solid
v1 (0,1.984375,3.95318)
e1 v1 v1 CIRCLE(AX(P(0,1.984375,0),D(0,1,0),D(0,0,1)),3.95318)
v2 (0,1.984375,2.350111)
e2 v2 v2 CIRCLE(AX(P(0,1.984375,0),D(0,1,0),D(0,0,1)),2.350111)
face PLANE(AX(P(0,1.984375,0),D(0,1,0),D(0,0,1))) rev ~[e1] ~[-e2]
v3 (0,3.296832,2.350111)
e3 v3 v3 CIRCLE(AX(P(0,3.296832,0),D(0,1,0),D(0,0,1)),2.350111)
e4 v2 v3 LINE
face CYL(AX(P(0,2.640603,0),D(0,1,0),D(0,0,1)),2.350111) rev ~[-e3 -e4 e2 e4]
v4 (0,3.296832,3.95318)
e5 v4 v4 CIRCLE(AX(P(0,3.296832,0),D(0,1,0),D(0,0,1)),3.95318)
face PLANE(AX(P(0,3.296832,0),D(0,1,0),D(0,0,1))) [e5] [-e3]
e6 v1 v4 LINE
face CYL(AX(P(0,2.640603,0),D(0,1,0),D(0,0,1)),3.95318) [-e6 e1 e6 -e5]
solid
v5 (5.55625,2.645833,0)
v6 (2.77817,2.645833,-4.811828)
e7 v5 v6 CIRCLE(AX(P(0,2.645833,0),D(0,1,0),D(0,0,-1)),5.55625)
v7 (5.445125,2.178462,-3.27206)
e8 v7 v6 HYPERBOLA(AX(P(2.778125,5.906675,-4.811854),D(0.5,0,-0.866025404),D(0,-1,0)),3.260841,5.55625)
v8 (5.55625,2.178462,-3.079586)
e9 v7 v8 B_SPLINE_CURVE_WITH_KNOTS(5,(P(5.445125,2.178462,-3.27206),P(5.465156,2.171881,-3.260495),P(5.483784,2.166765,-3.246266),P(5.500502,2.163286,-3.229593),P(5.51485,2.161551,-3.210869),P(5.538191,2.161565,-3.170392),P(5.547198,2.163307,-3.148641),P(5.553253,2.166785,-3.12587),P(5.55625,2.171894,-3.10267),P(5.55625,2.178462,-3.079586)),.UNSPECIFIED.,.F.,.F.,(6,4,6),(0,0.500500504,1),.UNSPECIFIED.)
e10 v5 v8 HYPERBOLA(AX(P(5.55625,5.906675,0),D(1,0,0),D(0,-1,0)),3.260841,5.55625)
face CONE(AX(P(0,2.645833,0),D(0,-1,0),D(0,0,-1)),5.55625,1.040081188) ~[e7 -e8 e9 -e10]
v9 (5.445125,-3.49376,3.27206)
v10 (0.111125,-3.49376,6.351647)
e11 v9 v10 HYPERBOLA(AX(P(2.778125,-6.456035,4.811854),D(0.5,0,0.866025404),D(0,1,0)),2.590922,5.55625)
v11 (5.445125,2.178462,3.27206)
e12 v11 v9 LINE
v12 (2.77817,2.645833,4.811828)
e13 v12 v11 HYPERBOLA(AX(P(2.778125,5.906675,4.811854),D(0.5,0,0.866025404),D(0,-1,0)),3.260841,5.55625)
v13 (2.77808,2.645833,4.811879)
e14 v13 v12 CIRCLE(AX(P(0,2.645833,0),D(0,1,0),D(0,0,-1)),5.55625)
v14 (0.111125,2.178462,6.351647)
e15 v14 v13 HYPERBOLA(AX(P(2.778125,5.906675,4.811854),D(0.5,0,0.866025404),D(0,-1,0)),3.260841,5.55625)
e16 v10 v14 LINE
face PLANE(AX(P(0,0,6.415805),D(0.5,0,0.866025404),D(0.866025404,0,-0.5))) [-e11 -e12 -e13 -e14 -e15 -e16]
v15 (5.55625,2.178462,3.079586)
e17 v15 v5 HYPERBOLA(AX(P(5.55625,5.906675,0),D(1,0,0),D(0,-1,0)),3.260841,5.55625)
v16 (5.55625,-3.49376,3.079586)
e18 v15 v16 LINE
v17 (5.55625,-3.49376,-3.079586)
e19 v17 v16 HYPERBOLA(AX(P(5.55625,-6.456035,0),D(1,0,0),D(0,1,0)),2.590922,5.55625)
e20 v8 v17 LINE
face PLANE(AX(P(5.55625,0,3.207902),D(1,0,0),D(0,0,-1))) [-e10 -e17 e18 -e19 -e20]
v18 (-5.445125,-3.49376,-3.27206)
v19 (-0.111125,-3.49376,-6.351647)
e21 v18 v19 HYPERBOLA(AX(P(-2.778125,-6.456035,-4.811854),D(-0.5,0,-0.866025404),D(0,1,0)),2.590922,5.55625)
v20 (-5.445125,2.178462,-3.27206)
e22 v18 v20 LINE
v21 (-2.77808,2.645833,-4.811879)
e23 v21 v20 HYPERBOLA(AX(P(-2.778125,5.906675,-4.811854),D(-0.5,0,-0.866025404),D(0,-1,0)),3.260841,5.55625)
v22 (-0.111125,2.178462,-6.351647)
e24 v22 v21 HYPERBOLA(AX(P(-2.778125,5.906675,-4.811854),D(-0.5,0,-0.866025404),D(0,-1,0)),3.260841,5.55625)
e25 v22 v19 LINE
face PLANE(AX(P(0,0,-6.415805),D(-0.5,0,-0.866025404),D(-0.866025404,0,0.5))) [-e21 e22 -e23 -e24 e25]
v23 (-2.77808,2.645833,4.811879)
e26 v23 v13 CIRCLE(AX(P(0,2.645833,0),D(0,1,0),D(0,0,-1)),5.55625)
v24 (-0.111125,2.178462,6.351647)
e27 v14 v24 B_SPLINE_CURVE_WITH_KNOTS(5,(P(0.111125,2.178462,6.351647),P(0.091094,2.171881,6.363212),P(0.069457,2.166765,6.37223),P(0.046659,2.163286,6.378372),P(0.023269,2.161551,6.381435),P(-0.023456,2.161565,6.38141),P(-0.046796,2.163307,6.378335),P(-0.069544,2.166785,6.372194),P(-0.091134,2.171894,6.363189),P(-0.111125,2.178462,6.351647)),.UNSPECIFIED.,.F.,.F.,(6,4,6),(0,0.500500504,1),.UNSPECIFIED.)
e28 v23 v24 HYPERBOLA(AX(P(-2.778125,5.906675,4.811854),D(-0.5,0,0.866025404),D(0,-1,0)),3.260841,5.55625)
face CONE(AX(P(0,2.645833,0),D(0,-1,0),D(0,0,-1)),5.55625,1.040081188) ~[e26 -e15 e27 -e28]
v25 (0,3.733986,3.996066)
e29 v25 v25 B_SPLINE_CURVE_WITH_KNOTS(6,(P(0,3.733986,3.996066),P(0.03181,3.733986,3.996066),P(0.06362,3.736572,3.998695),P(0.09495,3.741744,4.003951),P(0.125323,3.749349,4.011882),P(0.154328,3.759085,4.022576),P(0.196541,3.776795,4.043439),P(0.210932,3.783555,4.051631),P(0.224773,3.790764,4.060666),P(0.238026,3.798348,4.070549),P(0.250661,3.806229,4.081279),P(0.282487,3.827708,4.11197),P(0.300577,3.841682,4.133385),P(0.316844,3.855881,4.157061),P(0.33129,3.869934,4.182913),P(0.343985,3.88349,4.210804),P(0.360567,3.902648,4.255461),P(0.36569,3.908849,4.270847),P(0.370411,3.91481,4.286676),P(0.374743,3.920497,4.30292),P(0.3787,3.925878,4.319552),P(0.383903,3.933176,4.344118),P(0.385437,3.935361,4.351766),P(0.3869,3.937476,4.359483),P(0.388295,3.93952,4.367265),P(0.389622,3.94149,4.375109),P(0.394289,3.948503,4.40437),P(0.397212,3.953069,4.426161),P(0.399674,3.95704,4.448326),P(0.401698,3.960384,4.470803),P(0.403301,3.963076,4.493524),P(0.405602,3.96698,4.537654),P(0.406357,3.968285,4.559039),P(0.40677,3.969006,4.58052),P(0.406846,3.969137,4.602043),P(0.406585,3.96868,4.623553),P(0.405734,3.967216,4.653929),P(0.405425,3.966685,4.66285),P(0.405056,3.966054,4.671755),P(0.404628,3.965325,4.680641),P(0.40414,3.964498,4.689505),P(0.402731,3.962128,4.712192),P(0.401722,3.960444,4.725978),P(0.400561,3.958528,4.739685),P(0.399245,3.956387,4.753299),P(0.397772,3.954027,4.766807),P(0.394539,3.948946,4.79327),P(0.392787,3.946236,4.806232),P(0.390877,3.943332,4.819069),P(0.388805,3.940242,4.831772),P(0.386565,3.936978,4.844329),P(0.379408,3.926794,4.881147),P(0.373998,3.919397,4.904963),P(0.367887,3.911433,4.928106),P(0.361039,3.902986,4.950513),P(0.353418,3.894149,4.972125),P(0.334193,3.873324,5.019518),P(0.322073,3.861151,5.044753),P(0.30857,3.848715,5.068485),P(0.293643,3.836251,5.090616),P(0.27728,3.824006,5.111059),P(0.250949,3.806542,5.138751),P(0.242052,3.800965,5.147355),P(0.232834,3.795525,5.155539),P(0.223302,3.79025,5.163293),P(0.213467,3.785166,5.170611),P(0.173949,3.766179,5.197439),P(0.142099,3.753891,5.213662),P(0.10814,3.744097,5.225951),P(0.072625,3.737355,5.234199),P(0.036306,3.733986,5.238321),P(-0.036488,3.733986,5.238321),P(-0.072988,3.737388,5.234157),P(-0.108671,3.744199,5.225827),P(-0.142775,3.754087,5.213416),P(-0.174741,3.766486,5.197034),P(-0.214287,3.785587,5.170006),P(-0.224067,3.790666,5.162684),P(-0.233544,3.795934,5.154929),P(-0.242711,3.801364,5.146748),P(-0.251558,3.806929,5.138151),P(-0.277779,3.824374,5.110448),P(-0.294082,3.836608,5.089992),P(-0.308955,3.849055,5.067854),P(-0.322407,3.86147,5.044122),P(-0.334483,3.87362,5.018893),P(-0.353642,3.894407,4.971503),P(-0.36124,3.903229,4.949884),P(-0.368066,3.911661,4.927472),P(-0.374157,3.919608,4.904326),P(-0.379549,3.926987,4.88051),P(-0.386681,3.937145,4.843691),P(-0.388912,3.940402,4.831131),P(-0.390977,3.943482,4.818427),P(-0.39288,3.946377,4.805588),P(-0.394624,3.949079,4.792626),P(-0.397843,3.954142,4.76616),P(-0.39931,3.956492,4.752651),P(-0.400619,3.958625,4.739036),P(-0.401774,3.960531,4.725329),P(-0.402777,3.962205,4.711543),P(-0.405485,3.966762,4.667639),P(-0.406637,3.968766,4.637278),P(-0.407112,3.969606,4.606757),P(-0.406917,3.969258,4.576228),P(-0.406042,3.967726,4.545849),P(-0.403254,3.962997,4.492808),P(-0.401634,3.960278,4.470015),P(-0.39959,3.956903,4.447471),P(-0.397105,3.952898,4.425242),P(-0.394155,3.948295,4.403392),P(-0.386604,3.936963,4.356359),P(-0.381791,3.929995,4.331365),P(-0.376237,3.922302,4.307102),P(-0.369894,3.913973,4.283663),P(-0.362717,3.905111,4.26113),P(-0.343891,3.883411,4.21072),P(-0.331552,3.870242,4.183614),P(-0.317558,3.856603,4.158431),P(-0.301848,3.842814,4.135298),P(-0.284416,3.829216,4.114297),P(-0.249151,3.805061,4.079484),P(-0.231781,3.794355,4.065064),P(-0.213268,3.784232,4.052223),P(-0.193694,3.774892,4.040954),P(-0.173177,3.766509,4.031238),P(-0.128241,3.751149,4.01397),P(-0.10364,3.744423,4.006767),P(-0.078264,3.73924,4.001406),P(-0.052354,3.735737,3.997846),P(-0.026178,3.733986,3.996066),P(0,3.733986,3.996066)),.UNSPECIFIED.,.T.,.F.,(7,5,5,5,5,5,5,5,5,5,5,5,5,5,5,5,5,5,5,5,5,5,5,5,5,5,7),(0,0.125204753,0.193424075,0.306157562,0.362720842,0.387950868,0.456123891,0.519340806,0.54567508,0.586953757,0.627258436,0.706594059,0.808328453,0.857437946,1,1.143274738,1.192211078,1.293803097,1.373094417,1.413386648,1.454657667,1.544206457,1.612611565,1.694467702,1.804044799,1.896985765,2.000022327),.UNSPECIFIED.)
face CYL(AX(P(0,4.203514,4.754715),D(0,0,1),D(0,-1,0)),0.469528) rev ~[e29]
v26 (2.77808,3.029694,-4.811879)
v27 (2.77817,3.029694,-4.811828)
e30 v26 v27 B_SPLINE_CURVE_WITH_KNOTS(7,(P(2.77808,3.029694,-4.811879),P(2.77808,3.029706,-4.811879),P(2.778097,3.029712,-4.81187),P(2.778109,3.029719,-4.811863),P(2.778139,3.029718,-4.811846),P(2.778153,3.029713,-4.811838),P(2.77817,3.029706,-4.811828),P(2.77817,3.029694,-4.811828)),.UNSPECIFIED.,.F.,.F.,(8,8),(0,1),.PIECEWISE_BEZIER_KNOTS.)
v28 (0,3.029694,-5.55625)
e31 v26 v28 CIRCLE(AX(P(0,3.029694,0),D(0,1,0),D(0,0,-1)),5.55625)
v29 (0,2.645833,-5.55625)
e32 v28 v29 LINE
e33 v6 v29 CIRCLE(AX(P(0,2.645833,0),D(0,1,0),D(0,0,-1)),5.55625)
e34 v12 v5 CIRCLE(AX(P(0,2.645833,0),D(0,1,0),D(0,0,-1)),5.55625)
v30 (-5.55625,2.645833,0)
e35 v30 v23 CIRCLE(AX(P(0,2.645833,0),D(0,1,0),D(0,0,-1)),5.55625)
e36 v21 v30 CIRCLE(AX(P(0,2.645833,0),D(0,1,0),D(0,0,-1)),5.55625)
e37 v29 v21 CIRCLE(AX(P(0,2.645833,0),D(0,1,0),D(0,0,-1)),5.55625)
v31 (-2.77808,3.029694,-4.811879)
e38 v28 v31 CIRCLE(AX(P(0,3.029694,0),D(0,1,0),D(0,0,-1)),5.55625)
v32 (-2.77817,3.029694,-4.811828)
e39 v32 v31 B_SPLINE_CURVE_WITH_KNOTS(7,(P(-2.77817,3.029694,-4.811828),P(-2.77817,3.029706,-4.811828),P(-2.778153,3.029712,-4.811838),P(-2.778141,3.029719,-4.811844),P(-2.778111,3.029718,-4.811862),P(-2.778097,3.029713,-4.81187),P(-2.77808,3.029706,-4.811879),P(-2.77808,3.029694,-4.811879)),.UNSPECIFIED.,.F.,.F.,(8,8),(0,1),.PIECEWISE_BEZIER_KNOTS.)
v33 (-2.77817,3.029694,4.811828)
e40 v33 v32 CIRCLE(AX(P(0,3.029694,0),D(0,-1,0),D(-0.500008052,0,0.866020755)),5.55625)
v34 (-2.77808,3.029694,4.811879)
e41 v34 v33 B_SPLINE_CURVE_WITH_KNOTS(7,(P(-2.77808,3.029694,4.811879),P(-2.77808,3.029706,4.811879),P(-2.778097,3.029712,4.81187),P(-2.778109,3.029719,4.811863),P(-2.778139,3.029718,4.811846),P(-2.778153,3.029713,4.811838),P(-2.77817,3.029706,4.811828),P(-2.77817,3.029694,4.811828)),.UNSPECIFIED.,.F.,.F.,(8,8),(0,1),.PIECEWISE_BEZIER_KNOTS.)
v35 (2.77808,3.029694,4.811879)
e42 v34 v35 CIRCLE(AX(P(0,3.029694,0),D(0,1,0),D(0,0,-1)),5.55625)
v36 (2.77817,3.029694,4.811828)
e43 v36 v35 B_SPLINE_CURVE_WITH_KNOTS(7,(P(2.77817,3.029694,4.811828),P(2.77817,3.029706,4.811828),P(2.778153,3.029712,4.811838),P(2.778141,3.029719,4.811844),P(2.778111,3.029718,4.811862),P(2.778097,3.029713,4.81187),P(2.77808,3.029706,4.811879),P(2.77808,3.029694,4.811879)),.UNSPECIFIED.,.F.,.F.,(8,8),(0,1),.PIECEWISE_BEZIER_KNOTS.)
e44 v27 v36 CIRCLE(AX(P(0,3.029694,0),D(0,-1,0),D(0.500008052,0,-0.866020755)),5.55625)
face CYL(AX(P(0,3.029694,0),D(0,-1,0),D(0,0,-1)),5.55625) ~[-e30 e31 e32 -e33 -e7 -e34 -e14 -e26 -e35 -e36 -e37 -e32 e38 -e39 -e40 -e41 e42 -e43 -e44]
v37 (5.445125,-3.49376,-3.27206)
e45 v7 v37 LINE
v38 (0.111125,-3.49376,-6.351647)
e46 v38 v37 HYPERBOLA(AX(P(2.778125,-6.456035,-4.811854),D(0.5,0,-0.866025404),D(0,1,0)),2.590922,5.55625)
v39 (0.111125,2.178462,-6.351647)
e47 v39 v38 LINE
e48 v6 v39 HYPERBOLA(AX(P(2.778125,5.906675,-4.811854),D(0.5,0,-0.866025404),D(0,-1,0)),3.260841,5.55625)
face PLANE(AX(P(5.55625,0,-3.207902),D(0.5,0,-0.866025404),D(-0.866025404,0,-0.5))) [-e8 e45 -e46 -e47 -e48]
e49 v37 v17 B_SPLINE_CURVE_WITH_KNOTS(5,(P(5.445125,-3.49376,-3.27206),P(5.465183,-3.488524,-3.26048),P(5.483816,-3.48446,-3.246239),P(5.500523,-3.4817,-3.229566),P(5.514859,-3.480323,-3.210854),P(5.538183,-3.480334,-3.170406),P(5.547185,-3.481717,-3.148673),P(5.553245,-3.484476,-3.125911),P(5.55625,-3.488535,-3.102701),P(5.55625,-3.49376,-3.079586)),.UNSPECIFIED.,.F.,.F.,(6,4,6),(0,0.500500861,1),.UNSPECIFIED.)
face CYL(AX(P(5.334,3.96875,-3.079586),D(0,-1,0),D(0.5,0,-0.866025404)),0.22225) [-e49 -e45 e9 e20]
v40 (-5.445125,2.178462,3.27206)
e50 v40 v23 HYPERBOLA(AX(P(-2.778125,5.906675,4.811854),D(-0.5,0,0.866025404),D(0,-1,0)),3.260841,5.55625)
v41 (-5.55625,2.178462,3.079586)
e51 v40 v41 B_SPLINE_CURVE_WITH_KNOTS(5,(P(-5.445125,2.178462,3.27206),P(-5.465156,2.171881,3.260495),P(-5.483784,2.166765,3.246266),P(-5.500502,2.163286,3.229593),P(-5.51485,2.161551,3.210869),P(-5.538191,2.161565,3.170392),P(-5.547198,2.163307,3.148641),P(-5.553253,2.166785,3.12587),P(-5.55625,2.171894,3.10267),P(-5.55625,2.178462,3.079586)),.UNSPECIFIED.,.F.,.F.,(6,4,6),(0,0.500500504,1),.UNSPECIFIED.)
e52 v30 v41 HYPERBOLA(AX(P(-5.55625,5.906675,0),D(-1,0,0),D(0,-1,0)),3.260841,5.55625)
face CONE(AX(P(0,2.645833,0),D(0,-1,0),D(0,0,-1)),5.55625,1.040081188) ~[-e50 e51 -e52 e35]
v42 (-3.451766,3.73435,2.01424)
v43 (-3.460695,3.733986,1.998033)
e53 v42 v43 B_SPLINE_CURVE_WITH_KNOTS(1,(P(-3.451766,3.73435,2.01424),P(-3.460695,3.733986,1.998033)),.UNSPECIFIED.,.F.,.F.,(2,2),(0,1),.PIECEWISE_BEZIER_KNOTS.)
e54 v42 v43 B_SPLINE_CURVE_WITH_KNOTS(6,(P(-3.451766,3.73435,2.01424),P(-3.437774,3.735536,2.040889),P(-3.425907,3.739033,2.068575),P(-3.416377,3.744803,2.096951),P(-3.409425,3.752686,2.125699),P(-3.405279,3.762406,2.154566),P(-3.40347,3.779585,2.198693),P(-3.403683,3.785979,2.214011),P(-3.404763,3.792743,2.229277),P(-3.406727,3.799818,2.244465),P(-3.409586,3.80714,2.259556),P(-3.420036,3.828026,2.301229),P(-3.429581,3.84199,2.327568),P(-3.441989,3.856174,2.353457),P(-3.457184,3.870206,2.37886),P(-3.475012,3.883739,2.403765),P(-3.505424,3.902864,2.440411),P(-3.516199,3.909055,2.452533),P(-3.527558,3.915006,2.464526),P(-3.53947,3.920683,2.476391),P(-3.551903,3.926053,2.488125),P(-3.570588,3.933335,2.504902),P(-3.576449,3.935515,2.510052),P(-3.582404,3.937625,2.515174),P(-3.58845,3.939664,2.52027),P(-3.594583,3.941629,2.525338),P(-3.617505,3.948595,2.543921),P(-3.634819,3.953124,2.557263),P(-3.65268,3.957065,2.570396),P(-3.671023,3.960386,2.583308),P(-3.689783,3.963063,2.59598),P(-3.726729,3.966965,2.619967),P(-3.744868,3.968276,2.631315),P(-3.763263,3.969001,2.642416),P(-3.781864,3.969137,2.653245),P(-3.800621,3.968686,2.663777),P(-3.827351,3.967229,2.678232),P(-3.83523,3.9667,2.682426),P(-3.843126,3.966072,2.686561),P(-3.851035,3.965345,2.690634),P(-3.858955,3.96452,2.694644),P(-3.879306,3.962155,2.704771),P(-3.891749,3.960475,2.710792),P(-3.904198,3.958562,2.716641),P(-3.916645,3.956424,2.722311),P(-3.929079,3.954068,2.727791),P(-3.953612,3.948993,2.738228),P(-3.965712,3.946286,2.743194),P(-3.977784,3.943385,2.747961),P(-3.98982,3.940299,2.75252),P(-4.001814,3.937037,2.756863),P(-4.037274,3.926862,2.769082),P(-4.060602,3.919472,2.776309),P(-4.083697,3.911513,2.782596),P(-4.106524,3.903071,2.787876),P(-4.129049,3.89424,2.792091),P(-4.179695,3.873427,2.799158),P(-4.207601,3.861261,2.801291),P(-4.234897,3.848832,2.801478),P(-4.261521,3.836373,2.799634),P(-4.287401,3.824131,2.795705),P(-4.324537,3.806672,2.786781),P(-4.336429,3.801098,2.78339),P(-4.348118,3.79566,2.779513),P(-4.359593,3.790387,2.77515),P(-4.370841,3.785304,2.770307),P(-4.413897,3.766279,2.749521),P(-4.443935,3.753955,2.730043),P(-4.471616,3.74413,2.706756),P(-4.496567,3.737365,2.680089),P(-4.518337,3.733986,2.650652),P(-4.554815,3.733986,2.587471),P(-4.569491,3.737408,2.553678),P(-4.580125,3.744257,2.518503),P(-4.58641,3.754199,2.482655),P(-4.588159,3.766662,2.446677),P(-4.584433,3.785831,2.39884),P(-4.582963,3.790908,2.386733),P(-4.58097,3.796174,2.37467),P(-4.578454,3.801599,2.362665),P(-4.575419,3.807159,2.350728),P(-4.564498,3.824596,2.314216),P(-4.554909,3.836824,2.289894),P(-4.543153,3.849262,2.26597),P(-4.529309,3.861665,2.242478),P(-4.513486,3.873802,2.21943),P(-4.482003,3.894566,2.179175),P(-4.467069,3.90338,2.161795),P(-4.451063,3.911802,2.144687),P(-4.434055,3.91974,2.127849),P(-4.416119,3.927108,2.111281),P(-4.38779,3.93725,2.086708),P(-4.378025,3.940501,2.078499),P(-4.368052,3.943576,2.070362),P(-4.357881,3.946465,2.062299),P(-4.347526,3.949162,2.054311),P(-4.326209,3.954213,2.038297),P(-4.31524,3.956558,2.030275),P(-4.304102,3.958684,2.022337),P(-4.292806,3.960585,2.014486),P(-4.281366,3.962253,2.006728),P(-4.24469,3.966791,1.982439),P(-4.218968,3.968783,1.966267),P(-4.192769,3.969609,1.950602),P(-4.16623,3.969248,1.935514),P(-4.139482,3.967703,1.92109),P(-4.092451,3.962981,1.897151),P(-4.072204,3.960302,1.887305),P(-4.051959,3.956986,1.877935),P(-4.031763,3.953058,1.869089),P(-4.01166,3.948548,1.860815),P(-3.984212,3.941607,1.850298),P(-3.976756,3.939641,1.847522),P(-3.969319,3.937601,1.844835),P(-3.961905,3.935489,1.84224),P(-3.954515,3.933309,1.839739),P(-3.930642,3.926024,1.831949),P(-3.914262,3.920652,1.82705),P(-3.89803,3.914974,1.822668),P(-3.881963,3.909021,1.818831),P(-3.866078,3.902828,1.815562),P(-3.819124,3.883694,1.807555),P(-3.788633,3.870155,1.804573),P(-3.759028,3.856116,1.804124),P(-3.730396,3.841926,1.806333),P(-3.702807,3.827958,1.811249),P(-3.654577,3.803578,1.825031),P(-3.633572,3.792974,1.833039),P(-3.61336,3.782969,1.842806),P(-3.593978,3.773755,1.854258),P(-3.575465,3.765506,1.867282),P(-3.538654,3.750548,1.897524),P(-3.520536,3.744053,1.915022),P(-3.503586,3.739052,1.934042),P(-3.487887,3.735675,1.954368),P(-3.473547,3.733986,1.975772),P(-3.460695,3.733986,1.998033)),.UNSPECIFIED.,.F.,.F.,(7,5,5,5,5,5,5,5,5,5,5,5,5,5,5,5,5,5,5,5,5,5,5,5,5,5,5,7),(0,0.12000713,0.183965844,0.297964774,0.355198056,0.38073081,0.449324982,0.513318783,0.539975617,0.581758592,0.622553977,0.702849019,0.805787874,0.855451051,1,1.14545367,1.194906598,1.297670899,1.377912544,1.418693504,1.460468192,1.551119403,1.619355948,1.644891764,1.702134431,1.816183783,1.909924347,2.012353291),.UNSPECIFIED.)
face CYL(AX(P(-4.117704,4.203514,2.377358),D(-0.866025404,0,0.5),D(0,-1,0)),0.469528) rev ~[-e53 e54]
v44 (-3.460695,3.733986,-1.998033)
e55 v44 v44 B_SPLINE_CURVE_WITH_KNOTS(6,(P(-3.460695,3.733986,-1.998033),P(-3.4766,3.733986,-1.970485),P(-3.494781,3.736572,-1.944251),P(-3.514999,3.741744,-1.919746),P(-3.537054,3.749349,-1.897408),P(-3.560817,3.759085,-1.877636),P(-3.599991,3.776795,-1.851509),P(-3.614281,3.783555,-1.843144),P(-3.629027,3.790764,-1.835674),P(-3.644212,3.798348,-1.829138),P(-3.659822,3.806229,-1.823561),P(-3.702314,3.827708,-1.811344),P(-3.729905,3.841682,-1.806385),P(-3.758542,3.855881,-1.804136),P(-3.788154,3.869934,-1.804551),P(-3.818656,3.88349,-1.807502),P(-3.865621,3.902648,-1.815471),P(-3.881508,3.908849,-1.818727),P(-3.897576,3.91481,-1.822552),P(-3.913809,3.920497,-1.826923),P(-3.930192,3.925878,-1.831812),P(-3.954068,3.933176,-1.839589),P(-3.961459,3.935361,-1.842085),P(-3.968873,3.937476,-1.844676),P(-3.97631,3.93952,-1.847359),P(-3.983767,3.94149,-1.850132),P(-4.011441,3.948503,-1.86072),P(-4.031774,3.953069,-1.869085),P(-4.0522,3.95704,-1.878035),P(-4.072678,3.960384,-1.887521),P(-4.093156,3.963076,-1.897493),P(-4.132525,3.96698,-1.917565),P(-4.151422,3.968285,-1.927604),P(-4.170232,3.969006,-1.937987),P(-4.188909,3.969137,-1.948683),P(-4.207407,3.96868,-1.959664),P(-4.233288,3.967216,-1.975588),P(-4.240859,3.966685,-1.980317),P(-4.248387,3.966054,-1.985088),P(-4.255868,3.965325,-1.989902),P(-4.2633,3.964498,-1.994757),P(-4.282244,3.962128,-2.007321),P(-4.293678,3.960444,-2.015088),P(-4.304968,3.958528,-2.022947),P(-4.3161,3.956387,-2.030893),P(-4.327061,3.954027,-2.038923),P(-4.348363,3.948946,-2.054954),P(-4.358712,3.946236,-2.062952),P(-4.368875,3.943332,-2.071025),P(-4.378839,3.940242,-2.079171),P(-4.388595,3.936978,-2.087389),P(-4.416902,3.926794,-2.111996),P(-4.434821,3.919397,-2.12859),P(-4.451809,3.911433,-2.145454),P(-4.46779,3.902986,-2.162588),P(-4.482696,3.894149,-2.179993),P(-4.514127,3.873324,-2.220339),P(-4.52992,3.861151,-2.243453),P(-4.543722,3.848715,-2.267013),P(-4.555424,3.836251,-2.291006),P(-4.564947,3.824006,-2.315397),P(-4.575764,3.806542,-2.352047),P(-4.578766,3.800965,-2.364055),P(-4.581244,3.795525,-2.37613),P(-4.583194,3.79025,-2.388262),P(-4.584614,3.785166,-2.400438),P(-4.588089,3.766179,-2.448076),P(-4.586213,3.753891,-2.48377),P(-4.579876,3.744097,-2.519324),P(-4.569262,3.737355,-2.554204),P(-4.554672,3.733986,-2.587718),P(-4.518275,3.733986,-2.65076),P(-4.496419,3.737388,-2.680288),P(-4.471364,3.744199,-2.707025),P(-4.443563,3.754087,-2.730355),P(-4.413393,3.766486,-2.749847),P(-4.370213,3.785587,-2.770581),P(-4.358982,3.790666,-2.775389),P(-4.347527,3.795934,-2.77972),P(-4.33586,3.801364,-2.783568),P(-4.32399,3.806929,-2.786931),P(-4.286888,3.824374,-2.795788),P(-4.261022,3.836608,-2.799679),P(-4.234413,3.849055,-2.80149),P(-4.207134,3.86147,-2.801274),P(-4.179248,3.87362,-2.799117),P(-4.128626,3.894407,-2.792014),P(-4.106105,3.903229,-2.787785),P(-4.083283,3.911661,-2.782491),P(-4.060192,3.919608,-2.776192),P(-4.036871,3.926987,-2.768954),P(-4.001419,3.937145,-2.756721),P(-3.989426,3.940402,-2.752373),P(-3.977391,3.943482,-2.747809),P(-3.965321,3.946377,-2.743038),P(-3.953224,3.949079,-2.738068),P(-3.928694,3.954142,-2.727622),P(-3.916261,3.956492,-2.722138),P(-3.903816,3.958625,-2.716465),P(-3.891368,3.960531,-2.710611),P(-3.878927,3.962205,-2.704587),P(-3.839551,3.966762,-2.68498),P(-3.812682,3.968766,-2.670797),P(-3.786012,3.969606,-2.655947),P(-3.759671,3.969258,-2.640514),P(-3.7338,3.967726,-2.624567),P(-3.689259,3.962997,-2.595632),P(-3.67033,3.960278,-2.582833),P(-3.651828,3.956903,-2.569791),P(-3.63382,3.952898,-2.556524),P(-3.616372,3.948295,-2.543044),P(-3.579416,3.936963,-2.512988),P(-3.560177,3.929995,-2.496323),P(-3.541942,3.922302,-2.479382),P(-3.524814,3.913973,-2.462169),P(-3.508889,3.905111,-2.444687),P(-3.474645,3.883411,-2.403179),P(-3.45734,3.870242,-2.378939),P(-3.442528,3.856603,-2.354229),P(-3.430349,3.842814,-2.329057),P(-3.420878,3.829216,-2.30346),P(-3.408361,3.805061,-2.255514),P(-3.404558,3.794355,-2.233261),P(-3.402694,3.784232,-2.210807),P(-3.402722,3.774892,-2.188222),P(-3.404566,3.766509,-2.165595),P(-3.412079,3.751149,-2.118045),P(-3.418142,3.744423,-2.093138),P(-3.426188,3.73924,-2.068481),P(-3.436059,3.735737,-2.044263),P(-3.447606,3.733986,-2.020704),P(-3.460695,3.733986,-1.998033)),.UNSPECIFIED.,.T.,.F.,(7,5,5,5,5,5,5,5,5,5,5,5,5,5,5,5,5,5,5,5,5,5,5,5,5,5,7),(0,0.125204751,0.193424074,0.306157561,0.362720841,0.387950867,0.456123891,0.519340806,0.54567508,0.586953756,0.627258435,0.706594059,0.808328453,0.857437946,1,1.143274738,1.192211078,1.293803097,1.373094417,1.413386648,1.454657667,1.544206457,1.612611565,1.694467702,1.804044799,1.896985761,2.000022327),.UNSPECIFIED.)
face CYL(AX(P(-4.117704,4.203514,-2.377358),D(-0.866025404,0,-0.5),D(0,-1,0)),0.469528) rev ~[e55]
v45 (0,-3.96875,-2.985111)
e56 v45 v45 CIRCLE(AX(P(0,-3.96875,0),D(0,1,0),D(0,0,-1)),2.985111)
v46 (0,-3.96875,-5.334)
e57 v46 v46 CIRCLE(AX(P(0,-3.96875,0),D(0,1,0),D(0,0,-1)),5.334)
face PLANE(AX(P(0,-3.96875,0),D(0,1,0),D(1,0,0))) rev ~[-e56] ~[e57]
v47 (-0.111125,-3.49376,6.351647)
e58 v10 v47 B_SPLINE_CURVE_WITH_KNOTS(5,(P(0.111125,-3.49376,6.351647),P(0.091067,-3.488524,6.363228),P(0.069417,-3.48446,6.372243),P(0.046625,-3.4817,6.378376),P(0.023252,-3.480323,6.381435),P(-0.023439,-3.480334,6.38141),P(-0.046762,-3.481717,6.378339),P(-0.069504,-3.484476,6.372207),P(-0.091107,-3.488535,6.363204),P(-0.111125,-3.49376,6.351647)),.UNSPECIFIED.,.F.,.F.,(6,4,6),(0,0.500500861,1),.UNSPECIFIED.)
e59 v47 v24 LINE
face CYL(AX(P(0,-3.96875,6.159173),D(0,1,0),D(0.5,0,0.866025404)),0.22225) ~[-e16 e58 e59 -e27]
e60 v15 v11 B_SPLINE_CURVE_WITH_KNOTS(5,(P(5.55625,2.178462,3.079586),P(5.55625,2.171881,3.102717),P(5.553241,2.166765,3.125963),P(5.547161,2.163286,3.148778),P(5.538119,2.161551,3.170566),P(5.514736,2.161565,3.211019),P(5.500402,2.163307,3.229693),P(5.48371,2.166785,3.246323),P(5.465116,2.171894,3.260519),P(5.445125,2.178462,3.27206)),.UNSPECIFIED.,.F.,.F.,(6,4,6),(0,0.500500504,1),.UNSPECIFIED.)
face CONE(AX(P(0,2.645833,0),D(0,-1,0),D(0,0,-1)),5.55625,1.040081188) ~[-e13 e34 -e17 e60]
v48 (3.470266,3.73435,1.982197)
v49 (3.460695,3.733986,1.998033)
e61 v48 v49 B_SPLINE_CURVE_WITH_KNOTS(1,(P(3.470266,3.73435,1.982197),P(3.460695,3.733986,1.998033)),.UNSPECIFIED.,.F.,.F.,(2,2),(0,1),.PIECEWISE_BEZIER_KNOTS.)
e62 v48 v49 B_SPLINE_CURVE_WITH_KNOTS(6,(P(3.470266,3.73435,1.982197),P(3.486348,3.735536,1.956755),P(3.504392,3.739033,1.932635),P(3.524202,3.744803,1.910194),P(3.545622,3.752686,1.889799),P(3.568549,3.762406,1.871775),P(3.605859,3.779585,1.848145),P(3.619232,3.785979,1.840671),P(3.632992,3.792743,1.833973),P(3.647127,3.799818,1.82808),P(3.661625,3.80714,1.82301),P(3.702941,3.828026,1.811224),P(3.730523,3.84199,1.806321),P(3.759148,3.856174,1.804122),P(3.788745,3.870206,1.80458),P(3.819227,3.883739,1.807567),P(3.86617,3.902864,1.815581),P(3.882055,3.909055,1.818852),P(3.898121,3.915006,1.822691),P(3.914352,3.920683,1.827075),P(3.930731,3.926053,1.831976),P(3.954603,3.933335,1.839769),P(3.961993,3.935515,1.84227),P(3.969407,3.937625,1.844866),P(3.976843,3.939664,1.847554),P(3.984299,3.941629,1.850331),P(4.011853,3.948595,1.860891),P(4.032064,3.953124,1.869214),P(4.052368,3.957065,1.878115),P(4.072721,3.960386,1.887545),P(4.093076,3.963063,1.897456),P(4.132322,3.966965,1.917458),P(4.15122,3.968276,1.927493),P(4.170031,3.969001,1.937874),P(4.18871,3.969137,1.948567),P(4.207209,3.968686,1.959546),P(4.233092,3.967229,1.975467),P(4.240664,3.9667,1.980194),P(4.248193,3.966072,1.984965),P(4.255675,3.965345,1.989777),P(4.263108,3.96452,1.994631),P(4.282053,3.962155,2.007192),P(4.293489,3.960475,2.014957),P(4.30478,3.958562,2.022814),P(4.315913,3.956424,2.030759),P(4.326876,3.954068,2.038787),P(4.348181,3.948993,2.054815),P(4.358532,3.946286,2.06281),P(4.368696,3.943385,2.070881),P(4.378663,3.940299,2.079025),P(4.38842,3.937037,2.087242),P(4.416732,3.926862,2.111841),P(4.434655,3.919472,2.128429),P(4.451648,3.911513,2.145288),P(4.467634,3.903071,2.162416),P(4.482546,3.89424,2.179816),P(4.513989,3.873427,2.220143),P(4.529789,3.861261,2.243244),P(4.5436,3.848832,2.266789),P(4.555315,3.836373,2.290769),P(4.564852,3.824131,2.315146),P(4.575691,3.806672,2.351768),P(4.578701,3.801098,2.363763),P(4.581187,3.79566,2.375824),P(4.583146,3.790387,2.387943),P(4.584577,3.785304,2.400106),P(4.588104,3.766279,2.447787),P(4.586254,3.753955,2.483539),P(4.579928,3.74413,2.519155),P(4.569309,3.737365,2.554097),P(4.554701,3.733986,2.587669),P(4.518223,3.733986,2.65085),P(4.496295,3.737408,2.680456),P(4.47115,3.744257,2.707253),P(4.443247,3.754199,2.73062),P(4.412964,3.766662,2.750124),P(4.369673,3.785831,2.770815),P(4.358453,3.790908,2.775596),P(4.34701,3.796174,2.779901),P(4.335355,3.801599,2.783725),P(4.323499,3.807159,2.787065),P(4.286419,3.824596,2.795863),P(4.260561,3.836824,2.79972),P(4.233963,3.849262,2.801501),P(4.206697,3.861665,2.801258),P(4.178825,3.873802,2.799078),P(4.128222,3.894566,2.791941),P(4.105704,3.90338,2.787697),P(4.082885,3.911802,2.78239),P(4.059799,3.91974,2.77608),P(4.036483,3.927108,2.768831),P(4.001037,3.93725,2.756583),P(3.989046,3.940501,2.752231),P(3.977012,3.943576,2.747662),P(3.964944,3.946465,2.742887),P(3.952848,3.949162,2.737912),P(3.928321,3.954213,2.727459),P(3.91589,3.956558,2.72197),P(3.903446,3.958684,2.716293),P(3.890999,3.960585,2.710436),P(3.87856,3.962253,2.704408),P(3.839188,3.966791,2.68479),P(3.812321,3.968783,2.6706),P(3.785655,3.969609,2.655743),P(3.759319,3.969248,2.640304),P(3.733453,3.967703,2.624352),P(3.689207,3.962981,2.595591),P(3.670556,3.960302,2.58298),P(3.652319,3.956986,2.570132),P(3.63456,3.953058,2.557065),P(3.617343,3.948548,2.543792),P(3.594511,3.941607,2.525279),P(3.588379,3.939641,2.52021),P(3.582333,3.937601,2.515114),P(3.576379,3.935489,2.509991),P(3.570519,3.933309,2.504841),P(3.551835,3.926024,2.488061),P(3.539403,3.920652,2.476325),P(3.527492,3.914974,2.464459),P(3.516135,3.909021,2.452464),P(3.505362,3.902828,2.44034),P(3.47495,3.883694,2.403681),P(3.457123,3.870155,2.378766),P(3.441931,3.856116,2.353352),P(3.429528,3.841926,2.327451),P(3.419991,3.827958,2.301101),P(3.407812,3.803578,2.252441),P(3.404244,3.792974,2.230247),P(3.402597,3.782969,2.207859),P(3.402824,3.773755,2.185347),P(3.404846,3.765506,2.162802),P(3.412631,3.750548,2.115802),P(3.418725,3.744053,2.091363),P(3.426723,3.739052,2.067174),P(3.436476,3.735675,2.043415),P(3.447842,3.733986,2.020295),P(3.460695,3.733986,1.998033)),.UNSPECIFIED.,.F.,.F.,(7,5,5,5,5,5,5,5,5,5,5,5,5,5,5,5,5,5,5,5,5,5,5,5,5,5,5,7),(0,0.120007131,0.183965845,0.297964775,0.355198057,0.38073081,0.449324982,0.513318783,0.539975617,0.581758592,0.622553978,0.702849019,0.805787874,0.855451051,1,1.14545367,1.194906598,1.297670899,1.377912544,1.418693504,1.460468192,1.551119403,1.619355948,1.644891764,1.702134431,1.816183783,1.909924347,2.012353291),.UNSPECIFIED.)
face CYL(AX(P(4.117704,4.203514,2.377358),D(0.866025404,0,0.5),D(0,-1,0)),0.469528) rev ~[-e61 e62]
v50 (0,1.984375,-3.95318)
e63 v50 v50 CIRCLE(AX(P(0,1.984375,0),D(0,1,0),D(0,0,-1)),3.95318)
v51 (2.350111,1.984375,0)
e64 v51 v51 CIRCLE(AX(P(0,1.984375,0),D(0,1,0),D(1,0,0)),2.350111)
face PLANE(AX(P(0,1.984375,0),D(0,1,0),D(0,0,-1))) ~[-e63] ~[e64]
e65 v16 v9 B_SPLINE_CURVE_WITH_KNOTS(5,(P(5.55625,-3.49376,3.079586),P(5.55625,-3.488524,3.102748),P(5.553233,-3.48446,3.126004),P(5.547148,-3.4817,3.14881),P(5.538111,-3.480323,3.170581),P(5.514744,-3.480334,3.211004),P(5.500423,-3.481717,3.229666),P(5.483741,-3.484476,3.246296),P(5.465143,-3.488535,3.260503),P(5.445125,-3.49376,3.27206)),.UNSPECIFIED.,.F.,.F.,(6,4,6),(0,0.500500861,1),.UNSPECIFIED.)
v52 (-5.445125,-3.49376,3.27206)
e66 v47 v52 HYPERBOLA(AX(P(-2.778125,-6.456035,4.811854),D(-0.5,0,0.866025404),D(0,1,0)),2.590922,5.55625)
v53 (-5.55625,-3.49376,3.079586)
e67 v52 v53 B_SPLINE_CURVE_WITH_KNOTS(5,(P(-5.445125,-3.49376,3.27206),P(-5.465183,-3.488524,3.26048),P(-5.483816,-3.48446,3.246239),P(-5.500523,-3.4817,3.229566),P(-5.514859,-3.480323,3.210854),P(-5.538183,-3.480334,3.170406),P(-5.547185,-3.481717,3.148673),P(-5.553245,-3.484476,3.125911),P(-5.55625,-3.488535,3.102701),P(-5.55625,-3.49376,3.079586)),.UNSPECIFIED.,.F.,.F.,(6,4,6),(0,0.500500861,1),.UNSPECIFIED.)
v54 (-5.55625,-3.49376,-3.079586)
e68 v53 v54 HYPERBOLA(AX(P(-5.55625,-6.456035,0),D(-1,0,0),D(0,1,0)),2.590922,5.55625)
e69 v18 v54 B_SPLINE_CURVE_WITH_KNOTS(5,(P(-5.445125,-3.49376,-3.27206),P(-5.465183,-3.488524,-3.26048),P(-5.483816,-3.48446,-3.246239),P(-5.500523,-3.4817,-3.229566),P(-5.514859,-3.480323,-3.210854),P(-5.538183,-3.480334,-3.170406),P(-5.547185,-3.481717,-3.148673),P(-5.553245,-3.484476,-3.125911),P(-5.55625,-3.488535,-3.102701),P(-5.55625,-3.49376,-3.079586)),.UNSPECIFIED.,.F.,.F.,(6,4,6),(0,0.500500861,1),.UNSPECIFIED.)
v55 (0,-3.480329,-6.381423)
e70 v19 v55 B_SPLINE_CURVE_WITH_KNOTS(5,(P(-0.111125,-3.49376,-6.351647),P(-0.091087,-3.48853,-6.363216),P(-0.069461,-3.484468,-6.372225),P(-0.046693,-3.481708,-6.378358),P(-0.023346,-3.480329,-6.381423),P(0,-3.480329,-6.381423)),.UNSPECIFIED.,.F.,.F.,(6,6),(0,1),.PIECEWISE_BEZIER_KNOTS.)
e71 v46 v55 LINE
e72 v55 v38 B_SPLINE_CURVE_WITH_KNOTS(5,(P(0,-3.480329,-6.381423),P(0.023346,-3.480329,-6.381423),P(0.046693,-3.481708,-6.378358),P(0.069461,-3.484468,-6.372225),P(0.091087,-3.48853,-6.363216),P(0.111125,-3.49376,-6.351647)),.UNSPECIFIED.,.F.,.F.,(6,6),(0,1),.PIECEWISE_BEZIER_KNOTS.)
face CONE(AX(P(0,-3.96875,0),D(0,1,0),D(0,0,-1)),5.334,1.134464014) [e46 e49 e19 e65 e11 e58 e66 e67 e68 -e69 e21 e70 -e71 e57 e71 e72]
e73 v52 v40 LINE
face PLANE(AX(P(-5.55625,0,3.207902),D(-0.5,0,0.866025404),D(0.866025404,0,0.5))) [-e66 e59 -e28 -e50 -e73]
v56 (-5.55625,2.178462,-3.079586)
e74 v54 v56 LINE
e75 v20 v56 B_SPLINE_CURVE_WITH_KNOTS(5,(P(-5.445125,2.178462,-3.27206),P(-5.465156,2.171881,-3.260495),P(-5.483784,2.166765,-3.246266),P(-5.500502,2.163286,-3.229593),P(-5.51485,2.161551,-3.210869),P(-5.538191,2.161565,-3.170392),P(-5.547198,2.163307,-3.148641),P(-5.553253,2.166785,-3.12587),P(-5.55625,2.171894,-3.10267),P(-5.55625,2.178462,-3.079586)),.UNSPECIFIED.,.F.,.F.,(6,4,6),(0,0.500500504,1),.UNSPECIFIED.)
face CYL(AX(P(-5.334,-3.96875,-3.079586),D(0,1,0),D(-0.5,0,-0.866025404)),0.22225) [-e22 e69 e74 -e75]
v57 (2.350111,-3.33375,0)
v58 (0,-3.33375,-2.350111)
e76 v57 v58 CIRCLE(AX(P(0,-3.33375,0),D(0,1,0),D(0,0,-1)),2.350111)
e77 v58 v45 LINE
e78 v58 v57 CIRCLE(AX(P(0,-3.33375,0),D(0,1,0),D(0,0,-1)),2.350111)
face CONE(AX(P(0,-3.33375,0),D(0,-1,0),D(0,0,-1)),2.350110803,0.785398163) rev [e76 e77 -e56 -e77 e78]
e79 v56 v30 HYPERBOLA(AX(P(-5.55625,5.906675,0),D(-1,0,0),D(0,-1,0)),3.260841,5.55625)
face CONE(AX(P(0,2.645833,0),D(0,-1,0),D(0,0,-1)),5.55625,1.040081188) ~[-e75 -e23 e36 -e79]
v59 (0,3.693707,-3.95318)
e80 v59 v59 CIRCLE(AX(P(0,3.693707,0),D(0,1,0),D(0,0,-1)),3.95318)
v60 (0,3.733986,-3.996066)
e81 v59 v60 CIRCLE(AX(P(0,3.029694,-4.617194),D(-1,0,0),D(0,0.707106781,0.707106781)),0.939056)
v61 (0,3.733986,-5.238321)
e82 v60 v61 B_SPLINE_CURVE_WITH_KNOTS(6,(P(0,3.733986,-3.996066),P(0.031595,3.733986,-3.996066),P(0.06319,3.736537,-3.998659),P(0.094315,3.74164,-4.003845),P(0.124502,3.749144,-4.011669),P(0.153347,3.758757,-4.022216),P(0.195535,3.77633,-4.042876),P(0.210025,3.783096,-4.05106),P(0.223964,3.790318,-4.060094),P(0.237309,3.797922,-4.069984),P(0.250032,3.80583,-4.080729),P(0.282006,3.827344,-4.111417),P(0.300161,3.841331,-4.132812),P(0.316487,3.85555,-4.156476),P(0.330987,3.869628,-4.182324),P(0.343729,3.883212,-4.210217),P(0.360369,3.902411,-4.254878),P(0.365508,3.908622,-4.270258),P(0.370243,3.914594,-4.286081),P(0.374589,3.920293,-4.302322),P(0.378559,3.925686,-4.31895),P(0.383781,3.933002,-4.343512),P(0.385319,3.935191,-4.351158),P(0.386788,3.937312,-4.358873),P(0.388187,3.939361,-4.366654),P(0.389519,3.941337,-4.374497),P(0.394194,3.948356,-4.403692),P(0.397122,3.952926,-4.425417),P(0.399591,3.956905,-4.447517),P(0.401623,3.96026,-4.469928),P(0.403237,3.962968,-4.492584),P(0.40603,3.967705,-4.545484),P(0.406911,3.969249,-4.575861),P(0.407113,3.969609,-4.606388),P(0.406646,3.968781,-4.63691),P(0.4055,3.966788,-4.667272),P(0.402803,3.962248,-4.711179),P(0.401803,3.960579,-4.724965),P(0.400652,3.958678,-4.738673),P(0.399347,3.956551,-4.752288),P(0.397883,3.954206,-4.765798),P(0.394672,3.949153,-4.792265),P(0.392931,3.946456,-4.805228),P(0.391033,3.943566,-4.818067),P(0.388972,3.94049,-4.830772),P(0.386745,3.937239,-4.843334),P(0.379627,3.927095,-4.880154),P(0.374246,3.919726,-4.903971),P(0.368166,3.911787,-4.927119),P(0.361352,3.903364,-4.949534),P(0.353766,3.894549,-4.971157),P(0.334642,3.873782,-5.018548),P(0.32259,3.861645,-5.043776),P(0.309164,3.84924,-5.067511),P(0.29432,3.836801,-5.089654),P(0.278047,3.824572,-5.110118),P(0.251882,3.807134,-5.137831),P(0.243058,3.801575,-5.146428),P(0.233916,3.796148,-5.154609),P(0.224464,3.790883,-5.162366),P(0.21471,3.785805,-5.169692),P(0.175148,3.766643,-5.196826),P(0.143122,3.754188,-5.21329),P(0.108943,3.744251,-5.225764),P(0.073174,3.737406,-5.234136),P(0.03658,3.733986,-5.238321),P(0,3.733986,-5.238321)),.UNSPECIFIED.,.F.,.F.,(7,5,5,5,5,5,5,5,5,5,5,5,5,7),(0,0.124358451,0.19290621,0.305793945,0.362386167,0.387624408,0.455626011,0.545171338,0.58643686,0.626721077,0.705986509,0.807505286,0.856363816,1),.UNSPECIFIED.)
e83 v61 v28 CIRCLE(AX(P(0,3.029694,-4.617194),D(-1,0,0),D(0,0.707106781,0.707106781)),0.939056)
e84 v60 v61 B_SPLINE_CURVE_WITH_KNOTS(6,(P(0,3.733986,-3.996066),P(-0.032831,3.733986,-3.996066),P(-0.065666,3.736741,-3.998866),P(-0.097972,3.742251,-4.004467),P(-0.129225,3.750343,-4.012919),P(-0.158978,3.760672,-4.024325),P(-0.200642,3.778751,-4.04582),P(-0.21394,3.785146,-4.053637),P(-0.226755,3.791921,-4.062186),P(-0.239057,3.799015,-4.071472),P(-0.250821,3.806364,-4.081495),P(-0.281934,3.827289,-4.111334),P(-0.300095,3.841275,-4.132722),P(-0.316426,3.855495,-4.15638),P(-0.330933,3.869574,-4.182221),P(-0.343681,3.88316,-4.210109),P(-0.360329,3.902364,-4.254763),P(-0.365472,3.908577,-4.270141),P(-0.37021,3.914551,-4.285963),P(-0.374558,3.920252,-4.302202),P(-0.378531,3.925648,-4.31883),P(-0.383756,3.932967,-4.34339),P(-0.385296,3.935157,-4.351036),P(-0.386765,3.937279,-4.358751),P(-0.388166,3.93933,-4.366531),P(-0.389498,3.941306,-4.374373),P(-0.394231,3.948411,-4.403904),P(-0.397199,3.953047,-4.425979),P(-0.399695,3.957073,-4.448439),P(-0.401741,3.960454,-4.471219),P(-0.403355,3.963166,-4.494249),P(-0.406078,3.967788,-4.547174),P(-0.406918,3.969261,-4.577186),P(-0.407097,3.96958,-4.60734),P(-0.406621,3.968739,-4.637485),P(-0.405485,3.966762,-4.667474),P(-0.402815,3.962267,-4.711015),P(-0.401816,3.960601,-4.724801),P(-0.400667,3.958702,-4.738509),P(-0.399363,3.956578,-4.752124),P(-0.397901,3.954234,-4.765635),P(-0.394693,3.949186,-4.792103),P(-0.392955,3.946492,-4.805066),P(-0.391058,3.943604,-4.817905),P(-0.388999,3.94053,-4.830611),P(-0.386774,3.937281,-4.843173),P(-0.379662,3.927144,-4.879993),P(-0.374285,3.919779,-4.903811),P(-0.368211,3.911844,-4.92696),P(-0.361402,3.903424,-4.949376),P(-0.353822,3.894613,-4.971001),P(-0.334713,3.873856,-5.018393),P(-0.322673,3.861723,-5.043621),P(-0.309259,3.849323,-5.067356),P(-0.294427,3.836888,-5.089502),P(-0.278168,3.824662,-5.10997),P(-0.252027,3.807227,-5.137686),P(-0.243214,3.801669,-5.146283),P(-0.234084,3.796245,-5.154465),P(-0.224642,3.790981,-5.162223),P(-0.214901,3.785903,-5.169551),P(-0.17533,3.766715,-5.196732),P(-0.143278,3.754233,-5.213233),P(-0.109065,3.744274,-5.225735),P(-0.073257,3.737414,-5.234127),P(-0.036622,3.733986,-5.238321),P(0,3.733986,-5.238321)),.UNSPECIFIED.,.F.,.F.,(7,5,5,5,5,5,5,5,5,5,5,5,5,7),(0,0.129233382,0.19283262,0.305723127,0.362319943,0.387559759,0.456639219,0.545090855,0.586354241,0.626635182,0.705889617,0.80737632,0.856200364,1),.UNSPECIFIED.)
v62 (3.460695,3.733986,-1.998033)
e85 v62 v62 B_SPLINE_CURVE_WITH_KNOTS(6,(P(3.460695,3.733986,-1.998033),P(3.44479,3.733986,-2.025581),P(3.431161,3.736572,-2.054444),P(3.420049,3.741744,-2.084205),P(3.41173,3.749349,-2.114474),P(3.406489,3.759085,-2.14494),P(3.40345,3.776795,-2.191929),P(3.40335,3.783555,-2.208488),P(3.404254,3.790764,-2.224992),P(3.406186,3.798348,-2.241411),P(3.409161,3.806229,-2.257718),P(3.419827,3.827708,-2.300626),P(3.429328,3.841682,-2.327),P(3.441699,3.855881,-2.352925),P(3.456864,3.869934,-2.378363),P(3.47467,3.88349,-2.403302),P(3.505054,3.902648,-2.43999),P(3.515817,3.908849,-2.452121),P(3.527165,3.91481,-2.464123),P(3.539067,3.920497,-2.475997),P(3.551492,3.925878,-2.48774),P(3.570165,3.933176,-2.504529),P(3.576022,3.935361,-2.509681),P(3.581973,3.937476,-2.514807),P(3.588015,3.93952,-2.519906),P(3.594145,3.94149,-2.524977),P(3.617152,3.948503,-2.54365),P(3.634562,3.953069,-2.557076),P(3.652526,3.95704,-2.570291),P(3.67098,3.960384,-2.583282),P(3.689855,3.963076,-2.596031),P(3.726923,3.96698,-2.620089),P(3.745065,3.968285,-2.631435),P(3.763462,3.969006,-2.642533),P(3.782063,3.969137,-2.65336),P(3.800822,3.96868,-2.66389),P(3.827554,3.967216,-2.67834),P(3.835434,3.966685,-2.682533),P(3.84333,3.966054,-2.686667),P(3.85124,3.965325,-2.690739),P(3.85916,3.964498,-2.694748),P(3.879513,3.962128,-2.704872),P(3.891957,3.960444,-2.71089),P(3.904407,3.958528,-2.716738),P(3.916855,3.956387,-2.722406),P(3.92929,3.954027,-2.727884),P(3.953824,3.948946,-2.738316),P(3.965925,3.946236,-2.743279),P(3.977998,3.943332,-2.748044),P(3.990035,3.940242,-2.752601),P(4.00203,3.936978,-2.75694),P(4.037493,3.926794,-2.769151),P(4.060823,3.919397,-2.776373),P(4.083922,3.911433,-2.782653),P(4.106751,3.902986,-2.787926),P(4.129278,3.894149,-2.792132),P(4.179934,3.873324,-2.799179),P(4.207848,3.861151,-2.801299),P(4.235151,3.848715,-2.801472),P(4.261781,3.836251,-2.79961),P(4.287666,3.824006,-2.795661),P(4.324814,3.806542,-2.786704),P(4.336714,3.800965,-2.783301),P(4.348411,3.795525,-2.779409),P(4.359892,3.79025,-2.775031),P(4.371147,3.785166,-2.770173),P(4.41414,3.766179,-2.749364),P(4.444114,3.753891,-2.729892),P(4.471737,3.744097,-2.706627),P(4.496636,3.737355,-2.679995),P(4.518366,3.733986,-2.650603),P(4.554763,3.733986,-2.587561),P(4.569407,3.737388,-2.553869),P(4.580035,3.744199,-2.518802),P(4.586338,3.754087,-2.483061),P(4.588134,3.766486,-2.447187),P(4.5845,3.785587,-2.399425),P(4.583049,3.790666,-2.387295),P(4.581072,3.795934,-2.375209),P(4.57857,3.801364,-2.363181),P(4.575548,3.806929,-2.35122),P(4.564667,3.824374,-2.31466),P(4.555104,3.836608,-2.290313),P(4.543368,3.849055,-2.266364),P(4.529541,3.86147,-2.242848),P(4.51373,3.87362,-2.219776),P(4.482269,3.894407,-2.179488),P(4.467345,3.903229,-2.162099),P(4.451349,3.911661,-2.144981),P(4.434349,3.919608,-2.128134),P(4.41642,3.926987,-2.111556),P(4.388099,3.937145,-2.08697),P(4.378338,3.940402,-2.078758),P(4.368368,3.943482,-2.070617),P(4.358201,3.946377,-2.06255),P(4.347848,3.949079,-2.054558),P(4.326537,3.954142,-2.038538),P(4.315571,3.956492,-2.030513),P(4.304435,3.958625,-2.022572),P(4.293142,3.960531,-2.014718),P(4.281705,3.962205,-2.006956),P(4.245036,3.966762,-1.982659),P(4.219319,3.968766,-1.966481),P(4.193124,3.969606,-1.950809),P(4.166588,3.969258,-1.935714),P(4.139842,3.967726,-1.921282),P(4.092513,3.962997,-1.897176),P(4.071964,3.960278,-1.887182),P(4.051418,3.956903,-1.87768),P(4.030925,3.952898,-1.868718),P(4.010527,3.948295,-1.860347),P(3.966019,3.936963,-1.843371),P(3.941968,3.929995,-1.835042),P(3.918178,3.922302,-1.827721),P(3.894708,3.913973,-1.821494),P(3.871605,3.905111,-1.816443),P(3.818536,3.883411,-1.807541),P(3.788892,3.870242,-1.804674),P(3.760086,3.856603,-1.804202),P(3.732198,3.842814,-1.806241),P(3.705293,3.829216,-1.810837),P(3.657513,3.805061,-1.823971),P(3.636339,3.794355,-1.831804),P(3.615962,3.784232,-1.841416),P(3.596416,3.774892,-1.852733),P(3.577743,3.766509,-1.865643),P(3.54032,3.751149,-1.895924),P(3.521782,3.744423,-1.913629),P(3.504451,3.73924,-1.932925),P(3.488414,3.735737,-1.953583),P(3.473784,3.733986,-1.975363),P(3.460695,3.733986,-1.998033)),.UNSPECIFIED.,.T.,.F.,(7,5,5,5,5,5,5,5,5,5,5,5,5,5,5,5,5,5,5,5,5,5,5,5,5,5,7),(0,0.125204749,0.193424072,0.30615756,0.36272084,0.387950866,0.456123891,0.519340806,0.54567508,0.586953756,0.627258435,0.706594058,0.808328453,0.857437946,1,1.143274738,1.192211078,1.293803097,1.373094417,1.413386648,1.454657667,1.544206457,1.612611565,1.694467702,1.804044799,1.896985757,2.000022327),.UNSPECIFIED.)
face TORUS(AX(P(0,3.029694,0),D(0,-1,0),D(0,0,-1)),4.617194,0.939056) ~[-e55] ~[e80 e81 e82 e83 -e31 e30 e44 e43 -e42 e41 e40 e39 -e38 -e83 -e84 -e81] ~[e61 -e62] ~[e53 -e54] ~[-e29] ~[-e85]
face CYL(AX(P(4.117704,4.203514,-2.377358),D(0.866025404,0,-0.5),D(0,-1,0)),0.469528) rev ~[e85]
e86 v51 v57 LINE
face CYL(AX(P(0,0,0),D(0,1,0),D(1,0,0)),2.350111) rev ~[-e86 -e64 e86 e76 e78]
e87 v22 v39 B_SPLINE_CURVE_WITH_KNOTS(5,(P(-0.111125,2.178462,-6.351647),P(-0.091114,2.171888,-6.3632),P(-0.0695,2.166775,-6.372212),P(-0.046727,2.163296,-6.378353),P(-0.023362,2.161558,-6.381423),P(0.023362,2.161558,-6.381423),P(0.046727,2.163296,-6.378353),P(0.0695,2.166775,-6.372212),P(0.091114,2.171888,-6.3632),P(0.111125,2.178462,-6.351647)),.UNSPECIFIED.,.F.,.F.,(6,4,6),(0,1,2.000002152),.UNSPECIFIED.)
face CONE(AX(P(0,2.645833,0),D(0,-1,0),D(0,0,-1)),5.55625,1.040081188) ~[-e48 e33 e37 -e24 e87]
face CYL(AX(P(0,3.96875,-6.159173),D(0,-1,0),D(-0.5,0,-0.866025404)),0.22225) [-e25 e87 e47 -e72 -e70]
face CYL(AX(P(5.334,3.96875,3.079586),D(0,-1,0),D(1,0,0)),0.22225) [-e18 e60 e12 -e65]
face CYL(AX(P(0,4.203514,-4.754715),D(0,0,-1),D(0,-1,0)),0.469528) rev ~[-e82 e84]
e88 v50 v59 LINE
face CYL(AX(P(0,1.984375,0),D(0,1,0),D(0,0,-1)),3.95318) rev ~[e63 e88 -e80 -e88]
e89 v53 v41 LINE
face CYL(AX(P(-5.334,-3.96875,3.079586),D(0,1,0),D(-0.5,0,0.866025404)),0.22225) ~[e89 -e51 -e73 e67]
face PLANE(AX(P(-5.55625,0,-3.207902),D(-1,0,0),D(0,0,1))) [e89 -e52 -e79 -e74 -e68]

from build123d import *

# Parameters (mm, degrees)
SKETCH2_R                = 2.350110803
BOSS_EXTRUDE1_DEPTH      = 3.96875
BOSS_EXTRUDE1_DEPTH_BACK = 3.96875
FILLET1_R                = 0.22225
SKETCH11_W               = 1.603069599
SKETCH11_H               = 0.469528214
CIRPATTERN1_COUNT        = 6
SKETCH4_W                = 1.603069598
SKETCH4_H                = 1.31245674


with BuildPart() as part:
    # Sketch2 → Boss-Extrude1 (new body, two sides)
    with BuildSketch(Plane(origin=(0, 0, 0), x_dir=(1, 0, 0), z_dir=(0, 1, 0))) as boss_extrude1_sk:
        Polygon((0, 6.415804866), (-5.55625, 3.207902433), (-5.55625, -3.207902433), (0, -6.415804866), (5.55625, -3.207902433), (5.55625, 3.207902433), align=None)
        Circle(SKETCH2_R, mode=Mode.SUBTRACT)
    extrude(amount=BOSS_EXTRUDE1_DEPTH)
    extrude(boss_extrude1_sk.sketch, amount=-BOSS_EXTRUDE1_DEPTH_BACK)

    # Fillet1
    fillet1_edges = [part.edges().sort_by_distance(p)[0] for p in [
        (5.55625, 0, -3.207902433),
        (5.55625, 0, 3.207902433),
        (0, 0, 6.415804866),
        (-5.55625, 0, 3.207902433),
        (-5.55625, 0, -3.207902433),
        (0, 0, -6.415804866),
    ]]
    fillet(fillet1_edges, radius=FILLET1_R)

    # Sketch3 → Cut-Revolve2 (revolve, cut)
    with BuildSketch(Plane(origin=(0, 0, 0), x_dir=(0, 0, -1), z_dir=(1, 0, 0))):
        with BuildLine():
            Line((6.415804866, 2.645833333), (6.415804866, 4.96875))
            Line((6.415804866, 4.96875), (2.350110803, 4.96875))
            Line((2.350110803, 4.96875), (2.350110803, 1.984375))
            Line((2.350110803, 1.984375), (3.953180401, 1.984375))
            Line((3.953180401, 1.984375), (3.953180401, 3.69370674))
            ThreePointArc((3.953180401, 3.69370674), (4.976554908, 3.897268586), (5.55625, 3.029693571))
            Line((5.55625, 3.029693571), (5.55625, 2.645833333))
            Line((5.55625, 2.645833333), (6.415804866, 2.14137944))
            Line((6.415804866, 2.14137944), (6.415804866, 2.645833333))
        make_face()
        Polygon((5.334, -3.96875), (6.415804866, -3.464296106), (6.415804866, -3.96875), align=None)
        Polygon((2.350110803, -3.96875), (2.350110803, -3.33375), (2.985110803, -3.96875), align=None)
    revolve(axis=Axis((0, -3.96875, 0), (0, 1, 0)), mode=Mode.SUBTRACT)

    # Sketch11 → Cut-Revolve5 (revolve, cut)
    with BuildSketch(Plane(origin=(0, 0, 0), x_dir=(0, 0, -1), z_dir=(1, 0, 0))):
        with Locations((4.754715201, 3.96875)):
            Rectangle(SKETCH11_W, SKETCH11_H)
    cut_revolve5 = revolve(axis=Axis((0, 4.203514107, -3.953180401), (0, 0, -1)), mode=Mode.SUBTRACT)

    # CirPattern1: Cut-Revolve5 ×6 about axis
    cirpattern1_axis = Axis((0, -3.96875, 0), (0, 1, 0))
    for i in range(1, CIRPATTERN1_COUNT):
        add(cut_revolve5.rotate(cirpattern1_axis, i * 360 / CIRPATTERN1_COUNT), mode=Mode.SUBTRACT)


with BuildPart() as body_2:
    # Sketch4 → Revolve1 (revolve)
    with BuildSketch(Plane(origin=(0, 0, 0), x_dir=(0, 0, -1), z_dir=(1, 0, 0))):
        with Locations((-3.151645602, 2.64060337)):
            Rectangle(SKETCH4_W, SKETCH4_H)
    revolve(axis=Axis((0, -3.96875, 0), (0, 1, 0)))


solid = Compound([part.part, body_2.part])
